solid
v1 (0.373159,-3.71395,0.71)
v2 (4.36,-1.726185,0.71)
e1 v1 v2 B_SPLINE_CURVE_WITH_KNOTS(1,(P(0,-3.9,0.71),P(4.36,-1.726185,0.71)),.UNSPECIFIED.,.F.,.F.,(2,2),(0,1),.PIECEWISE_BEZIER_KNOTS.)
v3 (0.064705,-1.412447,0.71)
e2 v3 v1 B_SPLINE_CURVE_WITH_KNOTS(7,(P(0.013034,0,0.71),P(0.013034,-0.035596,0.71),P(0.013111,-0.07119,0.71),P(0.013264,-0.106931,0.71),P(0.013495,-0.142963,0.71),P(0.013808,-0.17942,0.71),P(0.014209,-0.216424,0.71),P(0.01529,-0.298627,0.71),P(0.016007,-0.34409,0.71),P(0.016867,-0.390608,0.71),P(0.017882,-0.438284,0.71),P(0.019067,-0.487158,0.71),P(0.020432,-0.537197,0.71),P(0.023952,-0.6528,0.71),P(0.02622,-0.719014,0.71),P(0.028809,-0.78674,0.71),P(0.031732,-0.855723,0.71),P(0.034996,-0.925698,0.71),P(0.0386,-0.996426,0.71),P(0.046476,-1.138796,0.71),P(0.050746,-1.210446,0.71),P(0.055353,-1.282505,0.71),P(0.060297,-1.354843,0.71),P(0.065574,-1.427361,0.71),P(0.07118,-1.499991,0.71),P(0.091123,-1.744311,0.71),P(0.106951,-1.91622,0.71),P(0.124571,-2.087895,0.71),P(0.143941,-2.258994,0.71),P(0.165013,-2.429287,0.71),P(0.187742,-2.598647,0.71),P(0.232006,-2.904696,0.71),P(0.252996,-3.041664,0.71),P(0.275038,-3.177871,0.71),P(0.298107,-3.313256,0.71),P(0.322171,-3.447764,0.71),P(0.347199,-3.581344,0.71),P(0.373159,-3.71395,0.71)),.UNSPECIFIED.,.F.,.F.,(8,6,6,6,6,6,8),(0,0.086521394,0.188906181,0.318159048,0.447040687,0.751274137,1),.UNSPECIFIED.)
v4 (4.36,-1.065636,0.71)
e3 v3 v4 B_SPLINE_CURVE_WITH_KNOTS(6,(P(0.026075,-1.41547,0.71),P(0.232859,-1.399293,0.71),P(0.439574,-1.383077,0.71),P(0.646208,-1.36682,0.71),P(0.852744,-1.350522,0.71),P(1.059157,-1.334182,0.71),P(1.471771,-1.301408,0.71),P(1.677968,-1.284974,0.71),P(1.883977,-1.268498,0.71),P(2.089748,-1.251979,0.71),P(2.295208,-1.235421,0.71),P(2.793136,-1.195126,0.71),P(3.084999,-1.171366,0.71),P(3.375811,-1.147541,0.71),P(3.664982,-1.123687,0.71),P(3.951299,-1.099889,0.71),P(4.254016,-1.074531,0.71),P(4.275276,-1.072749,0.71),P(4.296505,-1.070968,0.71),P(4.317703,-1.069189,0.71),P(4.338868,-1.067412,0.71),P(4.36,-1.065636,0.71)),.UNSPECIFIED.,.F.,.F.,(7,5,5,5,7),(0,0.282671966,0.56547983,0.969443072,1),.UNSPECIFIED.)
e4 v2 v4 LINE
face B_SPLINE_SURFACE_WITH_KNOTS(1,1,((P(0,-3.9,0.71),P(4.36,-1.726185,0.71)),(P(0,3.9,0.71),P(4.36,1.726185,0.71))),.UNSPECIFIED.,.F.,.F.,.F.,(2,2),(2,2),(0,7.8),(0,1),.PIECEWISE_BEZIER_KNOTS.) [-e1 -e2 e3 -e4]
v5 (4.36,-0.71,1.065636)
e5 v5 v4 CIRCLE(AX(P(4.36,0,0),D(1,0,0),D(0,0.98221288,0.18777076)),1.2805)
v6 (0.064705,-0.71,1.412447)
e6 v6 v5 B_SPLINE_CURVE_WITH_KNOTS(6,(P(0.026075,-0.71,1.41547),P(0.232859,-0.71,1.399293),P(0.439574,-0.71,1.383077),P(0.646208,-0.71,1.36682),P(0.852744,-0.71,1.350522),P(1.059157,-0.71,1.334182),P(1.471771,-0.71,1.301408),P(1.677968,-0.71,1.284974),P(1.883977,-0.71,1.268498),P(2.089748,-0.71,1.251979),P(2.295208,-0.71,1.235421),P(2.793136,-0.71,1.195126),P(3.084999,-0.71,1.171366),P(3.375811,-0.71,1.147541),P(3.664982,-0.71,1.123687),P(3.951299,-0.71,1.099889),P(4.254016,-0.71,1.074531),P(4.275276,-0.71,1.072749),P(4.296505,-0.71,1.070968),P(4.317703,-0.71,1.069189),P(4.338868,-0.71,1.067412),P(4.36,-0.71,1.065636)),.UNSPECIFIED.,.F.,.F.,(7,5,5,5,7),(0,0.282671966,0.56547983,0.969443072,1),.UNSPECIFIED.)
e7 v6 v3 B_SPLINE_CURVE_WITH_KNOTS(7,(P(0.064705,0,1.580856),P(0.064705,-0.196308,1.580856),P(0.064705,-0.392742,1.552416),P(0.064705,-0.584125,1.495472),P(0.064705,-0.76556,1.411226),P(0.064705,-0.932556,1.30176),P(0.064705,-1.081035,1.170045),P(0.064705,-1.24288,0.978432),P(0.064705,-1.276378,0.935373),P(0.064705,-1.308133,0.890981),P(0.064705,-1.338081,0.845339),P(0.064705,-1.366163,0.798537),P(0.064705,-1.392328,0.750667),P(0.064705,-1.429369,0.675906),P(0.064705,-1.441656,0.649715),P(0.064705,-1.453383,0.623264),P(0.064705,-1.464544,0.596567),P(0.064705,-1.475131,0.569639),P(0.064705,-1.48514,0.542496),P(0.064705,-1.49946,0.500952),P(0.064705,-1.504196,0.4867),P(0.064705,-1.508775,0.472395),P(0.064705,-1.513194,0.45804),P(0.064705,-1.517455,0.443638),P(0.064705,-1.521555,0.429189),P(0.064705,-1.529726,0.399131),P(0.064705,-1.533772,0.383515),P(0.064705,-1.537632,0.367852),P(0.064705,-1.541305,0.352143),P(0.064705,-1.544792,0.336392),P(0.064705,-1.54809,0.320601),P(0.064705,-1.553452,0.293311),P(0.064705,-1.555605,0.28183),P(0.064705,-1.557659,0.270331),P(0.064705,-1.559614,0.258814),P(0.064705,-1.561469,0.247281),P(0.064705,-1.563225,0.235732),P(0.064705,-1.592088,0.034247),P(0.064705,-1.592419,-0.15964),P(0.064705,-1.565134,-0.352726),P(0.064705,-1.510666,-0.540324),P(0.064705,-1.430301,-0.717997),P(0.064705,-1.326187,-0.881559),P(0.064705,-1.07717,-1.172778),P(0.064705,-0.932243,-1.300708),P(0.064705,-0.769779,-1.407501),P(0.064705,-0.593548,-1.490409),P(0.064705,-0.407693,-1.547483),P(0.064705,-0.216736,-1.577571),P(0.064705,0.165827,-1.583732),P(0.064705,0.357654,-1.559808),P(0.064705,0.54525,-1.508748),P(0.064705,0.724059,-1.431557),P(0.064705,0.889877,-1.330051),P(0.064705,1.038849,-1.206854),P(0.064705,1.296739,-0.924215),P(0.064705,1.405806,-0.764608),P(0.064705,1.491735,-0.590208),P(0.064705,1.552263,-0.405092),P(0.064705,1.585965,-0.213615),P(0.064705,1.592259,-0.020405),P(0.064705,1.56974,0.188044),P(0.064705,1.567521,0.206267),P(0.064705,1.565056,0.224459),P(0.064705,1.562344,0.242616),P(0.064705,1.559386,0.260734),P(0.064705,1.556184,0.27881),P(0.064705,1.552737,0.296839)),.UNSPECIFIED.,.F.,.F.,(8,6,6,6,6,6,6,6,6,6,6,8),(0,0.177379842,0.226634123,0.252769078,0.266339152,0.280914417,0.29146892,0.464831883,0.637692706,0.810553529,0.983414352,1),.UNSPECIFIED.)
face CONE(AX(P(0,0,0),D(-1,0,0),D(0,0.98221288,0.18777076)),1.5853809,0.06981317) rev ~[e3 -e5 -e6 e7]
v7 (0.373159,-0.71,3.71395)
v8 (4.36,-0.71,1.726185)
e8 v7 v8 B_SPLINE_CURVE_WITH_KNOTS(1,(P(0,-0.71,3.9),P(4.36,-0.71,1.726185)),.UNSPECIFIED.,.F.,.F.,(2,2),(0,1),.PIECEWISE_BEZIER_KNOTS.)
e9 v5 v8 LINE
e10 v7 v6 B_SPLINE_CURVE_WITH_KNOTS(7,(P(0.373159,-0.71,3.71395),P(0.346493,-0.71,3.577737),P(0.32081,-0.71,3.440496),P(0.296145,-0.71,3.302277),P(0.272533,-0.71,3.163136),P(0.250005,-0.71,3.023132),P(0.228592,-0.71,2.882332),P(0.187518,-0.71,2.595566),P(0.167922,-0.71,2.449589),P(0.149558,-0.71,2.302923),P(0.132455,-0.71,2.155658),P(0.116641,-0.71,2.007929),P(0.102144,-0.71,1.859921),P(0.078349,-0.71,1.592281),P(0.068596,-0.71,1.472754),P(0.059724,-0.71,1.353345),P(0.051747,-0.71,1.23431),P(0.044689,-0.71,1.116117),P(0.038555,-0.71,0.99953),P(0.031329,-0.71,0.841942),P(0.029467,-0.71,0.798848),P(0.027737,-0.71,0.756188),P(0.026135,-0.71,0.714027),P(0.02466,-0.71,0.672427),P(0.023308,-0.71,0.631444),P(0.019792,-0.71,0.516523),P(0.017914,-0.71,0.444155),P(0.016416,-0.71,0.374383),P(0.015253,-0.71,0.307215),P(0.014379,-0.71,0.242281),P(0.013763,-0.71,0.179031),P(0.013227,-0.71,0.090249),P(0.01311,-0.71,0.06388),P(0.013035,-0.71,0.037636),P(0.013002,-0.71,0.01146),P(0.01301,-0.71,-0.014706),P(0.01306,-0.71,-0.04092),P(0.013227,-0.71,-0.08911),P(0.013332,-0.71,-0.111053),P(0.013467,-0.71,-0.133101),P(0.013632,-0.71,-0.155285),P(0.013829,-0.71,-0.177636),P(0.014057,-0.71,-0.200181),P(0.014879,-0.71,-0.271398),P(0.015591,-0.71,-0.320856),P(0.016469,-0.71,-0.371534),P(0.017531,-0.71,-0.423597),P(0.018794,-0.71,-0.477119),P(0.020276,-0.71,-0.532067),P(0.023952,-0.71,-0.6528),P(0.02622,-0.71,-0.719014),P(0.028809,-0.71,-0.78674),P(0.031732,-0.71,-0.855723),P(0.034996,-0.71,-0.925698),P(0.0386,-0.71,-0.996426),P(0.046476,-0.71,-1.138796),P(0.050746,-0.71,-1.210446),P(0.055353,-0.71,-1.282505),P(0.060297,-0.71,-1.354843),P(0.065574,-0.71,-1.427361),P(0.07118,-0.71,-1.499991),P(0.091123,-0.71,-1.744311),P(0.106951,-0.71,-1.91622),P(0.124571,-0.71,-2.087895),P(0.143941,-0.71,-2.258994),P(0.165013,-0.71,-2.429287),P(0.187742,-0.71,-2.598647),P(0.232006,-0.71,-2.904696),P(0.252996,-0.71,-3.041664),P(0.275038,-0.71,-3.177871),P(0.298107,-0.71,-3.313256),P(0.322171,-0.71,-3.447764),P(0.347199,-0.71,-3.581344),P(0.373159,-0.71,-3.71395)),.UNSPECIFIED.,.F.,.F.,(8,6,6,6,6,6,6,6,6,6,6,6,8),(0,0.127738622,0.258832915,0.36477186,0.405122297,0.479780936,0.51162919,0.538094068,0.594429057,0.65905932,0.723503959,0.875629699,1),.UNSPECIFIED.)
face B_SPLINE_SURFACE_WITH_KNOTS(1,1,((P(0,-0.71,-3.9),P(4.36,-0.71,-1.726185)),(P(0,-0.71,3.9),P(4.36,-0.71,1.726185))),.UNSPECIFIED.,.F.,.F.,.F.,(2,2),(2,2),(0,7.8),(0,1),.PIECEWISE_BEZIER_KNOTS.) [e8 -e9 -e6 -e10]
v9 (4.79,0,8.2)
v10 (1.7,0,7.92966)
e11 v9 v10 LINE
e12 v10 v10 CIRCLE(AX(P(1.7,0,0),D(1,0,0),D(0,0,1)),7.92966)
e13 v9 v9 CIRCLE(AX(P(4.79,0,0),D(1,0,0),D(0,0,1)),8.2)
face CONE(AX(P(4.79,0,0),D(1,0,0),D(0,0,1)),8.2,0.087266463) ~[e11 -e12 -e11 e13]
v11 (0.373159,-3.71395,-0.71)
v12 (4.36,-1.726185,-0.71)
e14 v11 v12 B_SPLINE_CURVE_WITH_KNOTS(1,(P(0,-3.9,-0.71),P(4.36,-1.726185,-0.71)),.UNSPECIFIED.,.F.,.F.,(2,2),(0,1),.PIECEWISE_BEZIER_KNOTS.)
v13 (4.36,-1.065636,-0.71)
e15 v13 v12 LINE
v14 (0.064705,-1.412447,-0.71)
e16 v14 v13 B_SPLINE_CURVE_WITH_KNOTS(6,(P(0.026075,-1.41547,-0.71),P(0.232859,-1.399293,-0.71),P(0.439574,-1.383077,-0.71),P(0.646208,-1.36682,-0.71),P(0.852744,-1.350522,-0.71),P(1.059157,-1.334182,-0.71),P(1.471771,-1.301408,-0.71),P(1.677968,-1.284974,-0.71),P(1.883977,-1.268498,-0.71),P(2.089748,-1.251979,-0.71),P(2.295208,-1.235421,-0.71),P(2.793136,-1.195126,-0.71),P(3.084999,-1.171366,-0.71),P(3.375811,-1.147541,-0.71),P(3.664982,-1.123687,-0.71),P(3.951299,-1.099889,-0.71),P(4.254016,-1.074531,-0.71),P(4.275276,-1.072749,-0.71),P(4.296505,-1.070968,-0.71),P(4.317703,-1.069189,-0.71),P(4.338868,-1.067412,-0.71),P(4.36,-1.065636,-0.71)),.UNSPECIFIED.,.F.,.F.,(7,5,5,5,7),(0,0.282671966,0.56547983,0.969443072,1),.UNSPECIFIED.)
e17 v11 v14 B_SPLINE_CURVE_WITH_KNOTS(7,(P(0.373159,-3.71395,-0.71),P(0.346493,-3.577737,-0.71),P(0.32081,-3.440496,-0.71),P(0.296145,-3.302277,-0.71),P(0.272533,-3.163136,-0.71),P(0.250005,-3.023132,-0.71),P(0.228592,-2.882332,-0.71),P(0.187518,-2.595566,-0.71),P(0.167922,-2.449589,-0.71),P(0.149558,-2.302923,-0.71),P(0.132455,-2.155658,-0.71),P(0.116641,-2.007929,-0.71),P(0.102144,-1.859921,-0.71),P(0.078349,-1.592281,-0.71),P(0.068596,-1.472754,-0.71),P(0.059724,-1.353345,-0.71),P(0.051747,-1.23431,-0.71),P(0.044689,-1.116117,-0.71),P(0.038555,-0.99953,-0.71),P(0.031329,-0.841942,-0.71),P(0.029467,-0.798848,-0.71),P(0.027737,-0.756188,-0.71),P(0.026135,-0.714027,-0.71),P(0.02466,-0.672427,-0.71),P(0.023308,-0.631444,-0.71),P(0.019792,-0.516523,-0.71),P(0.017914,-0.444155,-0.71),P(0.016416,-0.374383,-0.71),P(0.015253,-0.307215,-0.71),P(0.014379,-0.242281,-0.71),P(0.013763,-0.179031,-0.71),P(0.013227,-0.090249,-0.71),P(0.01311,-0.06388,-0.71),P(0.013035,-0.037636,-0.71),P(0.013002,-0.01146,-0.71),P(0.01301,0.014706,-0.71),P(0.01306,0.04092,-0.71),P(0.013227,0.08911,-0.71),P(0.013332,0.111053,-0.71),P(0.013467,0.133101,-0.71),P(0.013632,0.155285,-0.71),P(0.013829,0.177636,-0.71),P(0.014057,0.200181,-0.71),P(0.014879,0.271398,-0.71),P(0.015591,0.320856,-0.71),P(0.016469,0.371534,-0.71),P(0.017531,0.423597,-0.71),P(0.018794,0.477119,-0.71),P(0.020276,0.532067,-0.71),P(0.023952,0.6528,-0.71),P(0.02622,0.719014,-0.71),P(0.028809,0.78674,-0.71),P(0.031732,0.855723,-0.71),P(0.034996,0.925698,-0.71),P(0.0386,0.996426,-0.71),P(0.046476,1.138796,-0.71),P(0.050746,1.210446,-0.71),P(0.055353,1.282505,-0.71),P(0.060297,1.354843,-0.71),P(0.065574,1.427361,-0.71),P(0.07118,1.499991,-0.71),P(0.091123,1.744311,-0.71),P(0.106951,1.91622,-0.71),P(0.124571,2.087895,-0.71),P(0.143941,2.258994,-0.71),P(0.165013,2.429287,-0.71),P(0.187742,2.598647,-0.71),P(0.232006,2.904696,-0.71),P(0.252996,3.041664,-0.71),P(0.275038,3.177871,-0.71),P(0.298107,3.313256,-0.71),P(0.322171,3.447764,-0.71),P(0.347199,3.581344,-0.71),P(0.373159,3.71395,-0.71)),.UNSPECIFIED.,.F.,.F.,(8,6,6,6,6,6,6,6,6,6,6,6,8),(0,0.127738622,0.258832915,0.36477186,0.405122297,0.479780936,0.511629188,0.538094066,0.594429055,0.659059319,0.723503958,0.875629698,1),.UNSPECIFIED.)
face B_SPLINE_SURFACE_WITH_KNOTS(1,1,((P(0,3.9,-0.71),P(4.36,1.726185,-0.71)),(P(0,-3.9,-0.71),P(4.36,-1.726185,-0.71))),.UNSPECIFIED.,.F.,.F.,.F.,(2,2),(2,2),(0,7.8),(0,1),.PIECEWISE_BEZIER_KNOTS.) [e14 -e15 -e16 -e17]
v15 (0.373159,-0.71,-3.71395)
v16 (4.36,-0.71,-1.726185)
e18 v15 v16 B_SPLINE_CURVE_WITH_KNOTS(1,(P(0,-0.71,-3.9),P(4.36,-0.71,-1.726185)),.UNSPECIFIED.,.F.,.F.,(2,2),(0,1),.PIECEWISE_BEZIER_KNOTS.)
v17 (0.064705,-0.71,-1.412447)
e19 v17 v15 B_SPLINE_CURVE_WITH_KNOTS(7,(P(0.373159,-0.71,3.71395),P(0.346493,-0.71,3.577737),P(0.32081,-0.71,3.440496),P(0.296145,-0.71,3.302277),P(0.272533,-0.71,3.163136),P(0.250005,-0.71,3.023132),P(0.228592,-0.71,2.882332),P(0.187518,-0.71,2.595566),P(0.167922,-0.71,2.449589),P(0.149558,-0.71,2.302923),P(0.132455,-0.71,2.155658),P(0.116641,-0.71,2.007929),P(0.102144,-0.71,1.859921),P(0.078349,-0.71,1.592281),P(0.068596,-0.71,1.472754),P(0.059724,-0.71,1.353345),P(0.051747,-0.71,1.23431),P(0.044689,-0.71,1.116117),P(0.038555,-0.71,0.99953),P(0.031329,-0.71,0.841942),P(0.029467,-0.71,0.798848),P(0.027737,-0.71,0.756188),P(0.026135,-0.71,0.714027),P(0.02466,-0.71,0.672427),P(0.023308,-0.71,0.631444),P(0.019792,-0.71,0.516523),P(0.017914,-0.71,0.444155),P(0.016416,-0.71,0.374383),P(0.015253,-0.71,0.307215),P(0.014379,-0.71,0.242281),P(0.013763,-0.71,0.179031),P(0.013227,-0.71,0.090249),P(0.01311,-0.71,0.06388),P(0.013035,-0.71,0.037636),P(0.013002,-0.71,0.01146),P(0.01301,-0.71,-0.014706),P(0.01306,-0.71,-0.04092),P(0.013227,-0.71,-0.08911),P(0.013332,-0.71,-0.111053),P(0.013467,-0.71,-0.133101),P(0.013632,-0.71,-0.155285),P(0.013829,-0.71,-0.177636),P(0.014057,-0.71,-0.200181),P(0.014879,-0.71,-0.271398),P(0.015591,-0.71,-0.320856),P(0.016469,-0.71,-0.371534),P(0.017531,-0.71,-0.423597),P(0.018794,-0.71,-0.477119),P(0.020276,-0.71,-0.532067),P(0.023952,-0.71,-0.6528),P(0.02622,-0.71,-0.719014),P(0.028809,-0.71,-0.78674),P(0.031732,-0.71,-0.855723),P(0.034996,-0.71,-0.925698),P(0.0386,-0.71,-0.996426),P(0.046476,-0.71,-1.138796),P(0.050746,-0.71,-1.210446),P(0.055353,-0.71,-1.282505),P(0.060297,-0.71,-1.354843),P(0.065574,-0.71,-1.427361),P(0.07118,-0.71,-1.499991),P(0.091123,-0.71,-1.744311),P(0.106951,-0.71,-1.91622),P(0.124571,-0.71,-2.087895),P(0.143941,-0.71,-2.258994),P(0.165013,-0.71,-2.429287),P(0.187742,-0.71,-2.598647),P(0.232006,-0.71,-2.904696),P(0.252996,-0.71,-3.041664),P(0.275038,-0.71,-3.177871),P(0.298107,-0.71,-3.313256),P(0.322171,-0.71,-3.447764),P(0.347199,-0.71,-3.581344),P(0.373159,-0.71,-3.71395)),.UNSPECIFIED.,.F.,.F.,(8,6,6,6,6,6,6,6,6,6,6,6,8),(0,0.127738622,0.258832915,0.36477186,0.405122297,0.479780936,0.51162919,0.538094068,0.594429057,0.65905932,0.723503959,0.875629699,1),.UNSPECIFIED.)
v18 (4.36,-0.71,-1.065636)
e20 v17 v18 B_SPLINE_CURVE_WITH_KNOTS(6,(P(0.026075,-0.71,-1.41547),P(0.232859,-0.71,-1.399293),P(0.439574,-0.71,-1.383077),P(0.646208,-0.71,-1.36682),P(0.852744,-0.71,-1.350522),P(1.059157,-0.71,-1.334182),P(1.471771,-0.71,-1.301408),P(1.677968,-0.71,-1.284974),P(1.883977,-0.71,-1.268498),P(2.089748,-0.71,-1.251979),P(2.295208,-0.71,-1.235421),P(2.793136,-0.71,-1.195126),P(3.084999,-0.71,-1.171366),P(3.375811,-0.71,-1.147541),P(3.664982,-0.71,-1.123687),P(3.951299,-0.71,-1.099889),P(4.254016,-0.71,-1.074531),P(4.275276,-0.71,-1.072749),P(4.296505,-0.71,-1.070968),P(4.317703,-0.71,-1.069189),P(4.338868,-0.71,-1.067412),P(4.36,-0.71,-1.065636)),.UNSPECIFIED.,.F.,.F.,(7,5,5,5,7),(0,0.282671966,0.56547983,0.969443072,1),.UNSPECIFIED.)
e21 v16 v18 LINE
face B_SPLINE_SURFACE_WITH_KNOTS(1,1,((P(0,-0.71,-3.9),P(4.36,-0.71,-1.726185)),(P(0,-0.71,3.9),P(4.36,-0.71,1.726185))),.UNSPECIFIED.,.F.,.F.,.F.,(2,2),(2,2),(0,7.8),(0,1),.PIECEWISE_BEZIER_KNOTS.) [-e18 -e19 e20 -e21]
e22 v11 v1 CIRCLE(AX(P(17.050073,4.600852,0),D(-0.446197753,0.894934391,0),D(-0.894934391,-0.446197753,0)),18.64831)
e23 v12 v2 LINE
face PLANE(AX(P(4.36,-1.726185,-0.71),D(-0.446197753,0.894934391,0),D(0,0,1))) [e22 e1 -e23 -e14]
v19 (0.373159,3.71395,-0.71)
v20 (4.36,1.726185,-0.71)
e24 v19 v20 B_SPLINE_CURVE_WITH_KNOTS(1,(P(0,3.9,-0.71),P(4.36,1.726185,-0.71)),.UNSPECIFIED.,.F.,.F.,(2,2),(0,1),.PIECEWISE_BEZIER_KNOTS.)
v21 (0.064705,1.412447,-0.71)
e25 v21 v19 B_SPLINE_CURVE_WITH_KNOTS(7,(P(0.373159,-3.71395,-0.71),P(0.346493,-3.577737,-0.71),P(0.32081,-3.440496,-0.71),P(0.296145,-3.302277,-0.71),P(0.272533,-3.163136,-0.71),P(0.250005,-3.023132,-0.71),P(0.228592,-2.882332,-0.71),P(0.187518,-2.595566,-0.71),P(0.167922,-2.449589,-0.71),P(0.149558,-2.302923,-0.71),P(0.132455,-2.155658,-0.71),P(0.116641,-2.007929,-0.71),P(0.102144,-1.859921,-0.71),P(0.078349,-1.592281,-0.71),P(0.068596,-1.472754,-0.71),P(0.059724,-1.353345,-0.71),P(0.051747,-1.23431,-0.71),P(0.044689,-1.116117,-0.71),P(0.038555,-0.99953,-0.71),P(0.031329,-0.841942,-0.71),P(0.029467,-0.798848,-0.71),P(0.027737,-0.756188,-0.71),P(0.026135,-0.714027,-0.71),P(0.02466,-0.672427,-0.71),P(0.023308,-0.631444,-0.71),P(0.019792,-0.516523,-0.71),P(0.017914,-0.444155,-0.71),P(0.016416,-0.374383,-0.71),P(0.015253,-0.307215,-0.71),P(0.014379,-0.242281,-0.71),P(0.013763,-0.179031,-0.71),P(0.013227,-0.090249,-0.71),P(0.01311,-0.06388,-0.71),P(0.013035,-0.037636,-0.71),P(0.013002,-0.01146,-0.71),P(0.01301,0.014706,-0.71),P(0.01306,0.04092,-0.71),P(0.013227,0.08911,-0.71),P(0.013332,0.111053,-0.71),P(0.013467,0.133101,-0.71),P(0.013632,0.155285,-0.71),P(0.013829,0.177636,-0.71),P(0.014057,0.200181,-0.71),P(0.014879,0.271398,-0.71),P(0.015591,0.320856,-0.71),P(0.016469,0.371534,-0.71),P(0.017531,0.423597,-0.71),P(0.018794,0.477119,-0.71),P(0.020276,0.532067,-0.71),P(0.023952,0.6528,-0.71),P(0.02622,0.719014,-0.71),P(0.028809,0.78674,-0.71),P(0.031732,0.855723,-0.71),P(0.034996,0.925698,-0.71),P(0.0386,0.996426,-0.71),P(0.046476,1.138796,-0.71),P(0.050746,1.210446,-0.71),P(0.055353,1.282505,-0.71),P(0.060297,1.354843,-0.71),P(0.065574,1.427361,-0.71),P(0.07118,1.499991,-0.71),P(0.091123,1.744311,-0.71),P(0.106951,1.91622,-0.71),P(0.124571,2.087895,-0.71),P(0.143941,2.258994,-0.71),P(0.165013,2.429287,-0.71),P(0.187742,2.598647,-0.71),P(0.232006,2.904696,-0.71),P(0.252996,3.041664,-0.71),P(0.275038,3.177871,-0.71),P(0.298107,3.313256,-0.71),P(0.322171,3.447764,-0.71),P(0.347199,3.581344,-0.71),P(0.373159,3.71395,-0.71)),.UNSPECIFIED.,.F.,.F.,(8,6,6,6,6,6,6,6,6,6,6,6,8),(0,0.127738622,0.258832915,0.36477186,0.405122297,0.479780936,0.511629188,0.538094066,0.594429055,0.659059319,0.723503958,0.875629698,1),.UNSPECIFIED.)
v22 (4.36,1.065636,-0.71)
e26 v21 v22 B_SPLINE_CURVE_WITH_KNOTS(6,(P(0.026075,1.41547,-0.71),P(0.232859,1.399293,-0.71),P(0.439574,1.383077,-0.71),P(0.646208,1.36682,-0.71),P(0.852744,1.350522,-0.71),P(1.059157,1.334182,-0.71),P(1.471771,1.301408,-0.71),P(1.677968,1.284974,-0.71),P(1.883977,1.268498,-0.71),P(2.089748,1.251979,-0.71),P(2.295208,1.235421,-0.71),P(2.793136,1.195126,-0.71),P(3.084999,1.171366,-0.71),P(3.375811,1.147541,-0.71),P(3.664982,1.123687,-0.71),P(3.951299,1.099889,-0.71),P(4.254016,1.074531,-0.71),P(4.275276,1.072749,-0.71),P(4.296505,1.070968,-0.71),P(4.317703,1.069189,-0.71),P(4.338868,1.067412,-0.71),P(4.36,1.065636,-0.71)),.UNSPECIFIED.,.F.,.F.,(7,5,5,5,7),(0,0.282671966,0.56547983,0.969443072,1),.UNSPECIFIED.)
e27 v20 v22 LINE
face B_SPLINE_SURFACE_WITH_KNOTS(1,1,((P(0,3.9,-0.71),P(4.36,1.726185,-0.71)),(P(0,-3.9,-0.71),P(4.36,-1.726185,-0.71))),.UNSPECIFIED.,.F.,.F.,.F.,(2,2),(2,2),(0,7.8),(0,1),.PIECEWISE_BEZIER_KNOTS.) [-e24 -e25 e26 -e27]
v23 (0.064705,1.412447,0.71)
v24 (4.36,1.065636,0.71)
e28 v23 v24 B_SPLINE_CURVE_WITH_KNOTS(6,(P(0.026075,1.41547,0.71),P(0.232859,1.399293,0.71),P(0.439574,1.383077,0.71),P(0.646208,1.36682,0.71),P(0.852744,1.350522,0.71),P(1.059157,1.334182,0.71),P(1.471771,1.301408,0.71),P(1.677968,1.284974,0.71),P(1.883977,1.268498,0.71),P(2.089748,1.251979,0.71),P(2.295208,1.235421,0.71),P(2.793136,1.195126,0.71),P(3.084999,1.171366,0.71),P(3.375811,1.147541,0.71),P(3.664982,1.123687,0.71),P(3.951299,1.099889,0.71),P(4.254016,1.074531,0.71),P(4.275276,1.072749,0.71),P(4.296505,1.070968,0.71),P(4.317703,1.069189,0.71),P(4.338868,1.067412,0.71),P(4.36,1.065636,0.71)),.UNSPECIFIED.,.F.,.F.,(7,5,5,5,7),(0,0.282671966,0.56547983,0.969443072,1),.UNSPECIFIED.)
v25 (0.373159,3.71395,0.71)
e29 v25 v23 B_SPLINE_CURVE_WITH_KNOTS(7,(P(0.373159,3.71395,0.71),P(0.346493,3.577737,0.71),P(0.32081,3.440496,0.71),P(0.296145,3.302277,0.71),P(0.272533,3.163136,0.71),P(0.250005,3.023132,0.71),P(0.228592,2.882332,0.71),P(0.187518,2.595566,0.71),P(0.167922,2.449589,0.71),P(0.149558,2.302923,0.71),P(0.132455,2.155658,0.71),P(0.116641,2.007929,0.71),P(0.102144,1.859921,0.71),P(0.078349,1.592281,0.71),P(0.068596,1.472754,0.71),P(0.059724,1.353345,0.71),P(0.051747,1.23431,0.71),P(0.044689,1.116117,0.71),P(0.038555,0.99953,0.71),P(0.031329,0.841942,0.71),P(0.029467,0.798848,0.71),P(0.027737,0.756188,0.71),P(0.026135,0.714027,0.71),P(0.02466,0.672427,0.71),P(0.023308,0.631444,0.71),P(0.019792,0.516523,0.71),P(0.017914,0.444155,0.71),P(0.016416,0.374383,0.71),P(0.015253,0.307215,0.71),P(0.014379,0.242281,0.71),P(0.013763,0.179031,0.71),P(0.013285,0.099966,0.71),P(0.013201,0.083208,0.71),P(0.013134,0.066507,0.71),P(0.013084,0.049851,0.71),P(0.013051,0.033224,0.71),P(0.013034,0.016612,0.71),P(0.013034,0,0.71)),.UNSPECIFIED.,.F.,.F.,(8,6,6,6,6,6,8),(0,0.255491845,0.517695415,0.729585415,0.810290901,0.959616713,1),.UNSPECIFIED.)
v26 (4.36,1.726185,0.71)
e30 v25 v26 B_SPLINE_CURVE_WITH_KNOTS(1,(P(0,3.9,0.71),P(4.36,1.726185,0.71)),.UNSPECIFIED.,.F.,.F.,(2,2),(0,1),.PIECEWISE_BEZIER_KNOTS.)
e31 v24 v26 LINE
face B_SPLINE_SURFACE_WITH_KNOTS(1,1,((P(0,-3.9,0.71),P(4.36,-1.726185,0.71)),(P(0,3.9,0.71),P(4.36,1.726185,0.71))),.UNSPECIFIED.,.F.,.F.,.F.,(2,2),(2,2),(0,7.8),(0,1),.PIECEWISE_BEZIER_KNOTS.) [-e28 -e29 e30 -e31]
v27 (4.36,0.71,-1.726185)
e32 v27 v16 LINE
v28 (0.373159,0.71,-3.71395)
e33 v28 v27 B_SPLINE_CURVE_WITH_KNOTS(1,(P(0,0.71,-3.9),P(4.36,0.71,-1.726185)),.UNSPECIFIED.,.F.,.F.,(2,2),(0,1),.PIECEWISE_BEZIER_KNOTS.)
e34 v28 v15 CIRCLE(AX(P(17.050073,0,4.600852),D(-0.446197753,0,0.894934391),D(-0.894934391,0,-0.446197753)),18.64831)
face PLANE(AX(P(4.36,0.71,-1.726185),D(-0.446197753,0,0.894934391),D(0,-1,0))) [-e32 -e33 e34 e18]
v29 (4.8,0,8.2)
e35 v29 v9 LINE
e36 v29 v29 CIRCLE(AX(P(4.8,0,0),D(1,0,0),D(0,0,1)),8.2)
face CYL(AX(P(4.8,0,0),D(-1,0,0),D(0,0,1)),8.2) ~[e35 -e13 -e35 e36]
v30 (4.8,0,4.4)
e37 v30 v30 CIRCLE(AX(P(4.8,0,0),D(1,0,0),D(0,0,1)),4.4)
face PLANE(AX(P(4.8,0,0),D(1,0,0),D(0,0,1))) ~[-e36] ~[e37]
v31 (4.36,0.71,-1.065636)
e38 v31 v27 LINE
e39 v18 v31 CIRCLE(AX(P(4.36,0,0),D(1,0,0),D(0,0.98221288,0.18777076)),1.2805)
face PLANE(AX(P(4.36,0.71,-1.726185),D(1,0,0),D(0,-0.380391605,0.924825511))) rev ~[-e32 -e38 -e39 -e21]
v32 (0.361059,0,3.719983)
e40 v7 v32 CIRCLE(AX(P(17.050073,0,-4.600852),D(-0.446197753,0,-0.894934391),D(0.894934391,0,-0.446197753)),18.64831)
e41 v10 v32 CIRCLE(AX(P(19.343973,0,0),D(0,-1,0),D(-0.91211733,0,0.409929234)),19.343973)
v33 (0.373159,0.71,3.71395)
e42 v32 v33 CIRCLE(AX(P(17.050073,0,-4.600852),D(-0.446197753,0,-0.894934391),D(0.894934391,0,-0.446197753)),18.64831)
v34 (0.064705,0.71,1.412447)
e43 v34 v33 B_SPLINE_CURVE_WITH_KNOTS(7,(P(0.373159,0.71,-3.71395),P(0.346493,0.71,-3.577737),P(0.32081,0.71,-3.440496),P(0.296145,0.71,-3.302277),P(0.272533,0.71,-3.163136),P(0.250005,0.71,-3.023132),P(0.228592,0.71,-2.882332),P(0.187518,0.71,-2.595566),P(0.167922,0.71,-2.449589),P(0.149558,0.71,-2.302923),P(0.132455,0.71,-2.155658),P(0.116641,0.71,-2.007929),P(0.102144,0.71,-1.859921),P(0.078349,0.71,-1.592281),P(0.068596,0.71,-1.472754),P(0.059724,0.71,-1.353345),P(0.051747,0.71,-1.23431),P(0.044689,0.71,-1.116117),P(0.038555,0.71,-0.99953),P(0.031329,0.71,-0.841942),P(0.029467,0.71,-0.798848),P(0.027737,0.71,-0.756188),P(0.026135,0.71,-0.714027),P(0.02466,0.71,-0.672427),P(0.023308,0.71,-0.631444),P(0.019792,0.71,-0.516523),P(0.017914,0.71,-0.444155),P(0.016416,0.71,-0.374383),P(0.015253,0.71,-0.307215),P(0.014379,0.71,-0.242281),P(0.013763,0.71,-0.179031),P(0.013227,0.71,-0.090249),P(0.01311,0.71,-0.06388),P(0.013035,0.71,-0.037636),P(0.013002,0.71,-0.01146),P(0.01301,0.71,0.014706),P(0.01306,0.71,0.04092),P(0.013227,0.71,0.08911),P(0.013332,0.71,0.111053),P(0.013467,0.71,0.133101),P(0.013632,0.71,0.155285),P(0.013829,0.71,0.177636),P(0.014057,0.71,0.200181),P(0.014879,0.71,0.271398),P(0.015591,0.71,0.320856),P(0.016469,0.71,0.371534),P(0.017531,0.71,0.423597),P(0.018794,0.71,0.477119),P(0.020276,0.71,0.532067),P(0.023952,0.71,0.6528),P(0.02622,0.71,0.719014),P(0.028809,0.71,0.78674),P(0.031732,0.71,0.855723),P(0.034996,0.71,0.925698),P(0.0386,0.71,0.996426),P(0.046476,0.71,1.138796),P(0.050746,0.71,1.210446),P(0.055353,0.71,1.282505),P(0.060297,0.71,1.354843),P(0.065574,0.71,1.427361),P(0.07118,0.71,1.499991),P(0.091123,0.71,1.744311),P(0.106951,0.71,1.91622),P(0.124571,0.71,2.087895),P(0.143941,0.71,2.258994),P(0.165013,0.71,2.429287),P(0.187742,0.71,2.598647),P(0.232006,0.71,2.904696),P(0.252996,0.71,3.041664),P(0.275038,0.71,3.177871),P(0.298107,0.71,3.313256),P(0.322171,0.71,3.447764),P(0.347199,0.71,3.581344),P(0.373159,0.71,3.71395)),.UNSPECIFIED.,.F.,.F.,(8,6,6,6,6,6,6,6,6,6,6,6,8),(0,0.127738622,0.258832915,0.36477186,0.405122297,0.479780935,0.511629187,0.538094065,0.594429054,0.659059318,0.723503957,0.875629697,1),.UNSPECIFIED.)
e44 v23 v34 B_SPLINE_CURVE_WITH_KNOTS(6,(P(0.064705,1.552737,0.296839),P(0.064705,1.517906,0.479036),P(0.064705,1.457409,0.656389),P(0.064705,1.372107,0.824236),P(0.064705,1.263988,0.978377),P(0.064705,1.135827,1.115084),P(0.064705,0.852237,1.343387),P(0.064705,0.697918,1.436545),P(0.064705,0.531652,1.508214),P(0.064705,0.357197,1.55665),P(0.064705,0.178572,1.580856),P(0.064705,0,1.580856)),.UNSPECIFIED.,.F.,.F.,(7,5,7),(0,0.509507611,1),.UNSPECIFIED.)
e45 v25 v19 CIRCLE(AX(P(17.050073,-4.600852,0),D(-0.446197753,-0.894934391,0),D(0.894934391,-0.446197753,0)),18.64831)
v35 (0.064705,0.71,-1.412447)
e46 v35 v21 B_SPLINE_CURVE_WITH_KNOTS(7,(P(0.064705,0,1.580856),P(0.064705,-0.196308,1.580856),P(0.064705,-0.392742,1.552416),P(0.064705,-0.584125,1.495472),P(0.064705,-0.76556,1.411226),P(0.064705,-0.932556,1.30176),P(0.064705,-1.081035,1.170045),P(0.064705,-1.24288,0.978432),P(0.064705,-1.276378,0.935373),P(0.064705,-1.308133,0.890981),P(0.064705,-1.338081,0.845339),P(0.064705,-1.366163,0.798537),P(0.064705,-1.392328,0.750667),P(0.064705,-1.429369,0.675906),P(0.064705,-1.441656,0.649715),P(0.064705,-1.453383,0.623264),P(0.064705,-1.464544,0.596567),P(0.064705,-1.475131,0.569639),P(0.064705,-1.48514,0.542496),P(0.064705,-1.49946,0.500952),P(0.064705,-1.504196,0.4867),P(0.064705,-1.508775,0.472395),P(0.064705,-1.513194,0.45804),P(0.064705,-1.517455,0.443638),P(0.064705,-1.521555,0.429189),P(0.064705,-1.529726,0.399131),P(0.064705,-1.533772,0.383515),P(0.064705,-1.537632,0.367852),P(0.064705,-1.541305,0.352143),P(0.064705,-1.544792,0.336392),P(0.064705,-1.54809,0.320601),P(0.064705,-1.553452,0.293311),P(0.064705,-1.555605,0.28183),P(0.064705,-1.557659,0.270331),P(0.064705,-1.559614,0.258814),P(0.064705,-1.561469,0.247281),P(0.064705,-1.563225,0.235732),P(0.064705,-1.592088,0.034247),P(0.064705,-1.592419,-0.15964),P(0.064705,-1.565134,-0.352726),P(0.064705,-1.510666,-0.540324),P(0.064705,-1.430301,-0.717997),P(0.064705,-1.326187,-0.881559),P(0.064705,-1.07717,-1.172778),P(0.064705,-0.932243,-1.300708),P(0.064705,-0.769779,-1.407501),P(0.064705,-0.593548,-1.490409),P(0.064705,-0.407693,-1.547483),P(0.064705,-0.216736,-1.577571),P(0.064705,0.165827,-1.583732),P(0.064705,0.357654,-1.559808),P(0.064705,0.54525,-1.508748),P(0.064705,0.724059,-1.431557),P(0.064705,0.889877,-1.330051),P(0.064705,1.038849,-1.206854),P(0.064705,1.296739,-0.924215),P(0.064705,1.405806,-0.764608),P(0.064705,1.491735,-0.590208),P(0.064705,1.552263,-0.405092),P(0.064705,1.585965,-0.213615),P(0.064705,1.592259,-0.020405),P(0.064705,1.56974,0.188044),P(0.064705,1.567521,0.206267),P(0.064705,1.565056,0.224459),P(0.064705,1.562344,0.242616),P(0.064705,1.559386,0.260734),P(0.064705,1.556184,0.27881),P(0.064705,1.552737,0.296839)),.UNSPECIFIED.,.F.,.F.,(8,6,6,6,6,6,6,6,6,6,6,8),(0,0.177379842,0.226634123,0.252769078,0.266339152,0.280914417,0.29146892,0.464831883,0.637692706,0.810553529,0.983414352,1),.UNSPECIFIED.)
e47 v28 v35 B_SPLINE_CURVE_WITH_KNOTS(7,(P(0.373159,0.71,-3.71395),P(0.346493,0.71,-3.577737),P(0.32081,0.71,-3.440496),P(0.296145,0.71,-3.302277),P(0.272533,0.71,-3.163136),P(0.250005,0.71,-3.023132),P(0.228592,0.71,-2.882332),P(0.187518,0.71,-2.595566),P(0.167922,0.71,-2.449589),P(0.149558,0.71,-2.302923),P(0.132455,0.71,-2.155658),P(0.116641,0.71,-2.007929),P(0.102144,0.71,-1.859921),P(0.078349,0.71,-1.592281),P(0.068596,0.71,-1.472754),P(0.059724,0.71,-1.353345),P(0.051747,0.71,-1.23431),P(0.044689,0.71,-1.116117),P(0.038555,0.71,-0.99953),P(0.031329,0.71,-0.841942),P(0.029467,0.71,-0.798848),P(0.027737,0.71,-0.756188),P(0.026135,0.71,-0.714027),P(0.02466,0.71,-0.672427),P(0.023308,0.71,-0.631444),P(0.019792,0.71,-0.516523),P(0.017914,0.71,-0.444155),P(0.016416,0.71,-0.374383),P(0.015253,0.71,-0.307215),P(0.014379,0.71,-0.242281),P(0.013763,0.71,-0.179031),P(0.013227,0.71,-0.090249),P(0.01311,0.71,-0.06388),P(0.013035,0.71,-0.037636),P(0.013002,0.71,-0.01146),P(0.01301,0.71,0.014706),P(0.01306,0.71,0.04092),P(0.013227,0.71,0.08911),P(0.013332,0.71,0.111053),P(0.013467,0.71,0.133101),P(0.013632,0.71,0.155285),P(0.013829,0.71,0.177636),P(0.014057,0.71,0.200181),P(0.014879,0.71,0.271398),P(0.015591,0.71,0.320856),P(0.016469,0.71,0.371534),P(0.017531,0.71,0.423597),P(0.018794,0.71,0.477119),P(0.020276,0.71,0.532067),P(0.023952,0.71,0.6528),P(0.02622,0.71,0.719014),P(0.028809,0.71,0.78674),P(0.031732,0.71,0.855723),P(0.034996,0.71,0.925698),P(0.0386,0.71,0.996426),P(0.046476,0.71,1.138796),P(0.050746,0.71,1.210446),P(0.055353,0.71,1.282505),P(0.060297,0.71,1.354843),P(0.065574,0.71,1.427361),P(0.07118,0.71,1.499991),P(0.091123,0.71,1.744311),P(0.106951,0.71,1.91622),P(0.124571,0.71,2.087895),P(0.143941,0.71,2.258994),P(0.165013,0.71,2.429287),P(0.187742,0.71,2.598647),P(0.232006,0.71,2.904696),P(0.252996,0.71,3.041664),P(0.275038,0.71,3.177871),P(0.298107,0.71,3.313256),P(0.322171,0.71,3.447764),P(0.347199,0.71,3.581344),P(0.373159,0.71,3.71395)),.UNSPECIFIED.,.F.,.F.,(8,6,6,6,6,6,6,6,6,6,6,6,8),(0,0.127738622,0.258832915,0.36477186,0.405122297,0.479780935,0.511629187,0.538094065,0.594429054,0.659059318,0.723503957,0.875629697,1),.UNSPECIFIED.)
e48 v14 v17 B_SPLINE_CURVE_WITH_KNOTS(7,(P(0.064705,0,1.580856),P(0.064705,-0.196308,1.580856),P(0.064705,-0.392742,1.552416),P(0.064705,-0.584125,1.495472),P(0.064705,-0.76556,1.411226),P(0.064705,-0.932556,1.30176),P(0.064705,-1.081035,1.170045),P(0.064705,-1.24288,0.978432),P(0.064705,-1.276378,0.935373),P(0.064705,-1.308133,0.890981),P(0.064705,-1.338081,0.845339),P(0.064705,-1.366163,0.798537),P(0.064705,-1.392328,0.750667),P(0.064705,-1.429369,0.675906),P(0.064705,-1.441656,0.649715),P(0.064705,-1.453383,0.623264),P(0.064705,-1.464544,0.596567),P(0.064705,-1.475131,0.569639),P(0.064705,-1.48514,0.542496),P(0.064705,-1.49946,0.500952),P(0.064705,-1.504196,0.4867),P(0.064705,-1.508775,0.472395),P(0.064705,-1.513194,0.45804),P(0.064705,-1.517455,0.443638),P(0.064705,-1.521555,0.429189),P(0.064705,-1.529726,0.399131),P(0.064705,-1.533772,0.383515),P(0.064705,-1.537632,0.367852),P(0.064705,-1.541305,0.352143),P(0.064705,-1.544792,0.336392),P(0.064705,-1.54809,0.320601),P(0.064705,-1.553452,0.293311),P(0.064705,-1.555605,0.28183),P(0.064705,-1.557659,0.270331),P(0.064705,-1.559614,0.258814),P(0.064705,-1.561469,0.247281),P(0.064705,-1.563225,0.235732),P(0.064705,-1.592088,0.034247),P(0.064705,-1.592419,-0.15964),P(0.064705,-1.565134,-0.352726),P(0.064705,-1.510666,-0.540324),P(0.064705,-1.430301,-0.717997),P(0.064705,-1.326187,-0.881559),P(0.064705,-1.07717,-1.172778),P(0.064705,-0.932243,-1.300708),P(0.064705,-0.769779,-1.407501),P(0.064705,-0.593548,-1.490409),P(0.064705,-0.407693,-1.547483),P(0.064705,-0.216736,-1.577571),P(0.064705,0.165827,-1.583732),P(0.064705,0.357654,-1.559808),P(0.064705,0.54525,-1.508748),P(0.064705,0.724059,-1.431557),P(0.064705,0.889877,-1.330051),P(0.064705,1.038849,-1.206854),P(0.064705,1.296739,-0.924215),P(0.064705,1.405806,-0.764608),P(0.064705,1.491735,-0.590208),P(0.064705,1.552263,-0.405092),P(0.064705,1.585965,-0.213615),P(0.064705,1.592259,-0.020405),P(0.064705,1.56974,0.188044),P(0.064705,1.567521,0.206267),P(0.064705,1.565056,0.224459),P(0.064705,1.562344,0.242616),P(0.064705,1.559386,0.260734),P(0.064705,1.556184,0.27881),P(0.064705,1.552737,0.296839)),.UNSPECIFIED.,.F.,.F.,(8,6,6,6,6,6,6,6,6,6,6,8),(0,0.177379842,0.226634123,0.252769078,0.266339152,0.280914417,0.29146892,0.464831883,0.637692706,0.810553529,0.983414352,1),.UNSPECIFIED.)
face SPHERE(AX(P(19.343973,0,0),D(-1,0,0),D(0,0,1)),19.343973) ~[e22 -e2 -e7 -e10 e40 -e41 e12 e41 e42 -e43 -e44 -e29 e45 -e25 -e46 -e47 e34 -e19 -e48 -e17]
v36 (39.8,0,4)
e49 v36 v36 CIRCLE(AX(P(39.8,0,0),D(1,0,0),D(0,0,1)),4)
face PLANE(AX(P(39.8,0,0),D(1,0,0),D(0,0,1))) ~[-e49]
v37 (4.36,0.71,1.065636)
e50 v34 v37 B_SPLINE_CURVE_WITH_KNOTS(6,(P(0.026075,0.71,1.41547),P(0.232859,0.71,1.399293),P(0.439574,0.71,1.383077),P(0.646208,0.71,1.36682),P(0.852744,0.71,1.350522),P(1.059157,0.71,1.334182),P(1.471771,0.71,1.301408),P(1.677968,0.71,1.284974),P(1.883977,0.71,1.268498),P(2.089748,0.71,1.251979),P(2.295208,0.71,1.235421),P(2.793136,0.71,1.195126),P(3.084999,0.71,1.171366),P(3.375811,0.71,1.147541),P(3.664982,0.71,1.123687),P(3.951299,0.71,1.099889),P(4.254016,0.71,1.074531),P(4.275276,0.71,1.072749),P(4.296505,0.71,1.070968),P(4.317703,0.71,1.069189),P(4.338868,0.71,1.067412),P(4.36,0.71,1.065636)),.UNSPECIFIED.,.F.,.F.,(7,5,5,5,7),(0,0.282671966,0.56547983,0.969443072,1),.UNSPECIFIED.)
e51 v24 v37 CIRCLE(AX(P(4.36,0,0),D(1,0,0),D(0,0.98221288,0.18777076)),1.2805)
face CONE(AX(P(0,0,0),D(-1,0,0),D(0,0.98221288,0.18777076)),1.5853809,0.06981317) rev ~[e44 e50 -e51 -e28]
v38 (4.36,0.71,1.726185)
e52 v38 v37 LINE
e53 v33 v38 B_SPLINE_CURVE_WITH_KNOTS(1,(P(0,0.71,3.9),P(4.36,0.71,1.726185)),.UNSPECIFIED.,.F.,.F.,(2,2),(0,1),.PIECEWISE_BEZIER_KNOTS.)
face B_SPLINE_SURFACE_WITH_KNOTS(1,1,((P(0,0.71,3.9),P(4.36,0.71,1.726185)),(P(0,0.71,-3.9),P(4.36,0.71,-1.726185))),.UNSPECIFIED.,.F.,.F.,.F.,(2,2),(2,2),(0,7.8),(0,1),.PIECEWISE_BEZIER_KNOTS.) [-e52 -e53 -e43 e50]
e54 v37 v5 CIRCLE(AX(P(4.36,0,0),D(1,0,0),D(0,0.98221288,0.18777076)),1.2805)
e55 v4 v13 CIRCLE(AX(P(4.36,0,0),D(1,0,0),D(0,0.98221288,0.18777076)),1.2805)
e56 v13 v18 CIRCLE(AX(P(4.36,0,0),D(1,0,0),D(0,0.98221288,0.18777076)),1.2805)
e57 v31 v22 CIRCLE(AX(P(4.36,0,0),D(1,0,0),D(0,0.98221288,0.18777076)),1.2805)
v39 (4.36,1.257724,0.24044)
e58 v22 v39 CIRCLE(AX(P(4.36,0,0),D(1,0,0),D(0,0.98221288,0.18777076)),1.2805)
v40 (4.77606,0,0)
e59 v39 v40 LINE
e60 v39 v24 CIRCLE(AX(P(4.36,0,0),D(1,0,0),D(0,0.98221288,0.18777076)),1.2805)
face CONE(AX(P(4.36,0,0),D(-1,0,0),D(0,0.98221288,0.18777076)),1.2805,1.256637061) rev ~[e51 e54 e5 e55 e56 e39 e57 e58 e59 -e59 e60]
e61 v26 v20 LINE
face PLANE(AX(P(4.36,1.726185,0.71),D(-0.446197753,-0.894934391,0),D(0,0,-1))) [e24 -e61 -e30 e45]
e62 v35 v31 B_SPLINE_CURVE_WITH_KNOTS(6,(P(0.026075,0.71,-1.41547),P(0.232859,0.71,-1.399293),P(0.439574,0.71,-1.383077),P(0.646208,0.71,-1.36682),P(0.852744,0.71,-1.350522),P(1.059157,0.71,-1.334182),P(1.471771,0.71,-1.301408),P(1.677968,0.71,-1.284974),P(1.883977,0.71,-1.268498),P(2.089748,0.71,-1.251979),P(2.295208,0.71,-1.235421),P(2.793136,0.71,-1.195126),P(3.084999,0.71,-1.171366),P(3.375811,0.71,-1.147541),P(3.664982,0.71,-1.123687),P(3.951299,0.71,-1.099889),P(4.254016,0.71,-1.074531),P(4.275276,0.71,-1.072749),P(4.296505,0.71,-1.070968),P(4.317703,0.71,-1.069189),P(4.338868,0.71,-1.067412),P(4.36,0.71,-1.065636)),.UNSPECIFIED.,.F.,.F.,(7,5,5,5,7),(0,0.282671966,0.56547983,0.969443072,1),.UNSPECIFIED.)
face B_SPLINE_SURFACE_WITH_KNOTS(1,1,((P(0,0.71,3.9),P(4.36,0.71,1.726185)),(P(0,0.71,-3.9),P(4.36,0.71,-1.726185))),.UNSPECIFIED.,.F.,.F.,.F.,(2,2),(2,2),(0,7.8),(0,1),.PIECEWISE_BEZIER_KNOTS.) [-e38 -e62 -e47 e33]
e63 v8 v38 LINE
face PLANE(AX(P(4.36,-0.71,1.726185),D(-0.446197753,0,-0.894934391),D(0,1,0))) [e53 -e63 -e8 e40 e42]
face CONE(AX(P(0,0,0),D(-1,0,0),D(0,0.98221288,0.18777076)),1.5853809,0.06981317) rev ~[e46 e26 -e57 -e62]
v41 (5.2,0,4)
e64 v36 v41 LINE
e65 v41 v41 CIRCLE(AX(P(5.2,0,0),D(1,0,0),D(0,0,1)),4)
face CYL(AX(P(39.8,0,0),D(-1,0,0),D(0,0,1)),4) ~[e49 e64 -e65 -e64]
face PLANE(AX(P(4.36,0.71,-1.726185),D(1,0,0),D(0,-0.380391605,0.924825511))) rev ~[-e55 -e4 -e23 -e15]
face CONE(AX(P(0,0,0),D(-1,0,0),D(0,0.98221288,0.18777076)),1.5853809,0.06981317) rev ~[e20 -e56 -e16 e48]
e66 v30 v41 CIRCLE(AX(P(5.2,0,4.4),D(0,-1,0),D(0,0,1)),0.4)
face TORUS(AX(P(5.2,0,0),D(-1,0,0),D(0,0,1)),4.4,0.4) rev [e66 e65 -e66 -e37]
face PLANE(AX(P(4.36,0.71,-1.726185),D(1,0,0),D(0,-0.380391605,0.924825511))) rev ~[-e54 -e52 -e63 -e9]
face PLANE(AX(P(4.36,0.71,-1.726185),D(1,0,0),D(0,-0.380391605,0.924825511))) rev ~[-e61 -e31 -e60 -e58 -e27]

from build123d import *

# Parameters (mm, degrees)
FILLET1_R    = 0.4
RECPAT_COUNT = 2
RECPAT_ANGLE = 90


with BuildPart() as part:
    # BodySke → Base-Revolve (revolve)
    with BuildSketch(Plane.XY, mode=Mode.PRIVATE) as base_revolve_sk:
        with BuildLine():
            Line((4.8, 4), (4.8, 8.2))
            Line((4.8, 8.2), (4.79, 8.2))
            Line((4.79, 8.2), (1.7, 7.92966003))
            ThreePointArc((1.7, 7.92966003), (0.429774249, 4.054920104), (0, 0))
            Line((0, 0), (39.8, 0))
            Line((39.8, 0), (39.8, 4))
            Line((39.8, 4), (4.8, 4))
        make_face()
    revolve(base_revolve_sk.sketch.rotate(Axis((1.7, 0, 0), (1, 0, 0)), 90), axis=Axis((1.7, 0, 0), (1, 0, 0)))

    # Fillet1
    fillet1_edges = [part.edges().sort_by_distance(p)[0] for p in [
        (4.8, 0, -4),
    ]]
    fillet(fillet1_edges, radius=FILLET1_R)

    # Sketch3 → Recess section 0
    with BuildSketch(Plane(origin=(0, 0, 0), x_dir=(0, 0, -1), z_dir=(1, 0, 0))):
        with BuildLine():
            Line((0.71, -3.9), (-0.71, -3.9))
            Line((-0.71, -3.9), (-0.71, 3.9))
            Line((-0.71, 3.9), (0.71, 3.9))
            Line((0.71, 3.9), (0.71, -3.9))
        make_face()
    # Sketch4 → Recess section 1
    with BuildSketch(Plane(origin=(4.36, 0, 0), x_dir=(0, 0, -1), z_dir=(1, 0, 0))):
        with BuildLine():
            Line((0.71, -1.726184552), (-0.71, -1.726184552))
            Line((-0.71, -1.726184552), (-0.71, 1.726184552))
            Line((-0.71, 1.726184552), (0.71, 1.726184552))
            Line((0.71, 1.726184552), (0.71, -1.726184552))
        make_face()
    recess = loft(mode=Mode.SUBTRACT)

    # RecPat: Recess ×2 about axis
    recpat_axis = Axis((0, 0, 0), (1, 0, 0))
    for i in range(1, RECPAT_COUNT):
        add(recess.rotate(recpat_axis, i * RECPAT_ANGLE / (RECPAT_COUNT - 1)), mode=Mode.SUBTRACT)

    # RecCorSke → RecessCore (revolve, cut)
    with BuildSketch(Plane.XY, mode=Mode.PRIVATE) as recesscore_sk:
        Polygon((0, 0), (0, 1.5853809), (4.36, 1.2805), (4.776059671, 0), align=None)
    revolve(recesscore_sk.sketch.rotate(Axis((-3.175, 0, 0), (1, 0, 0)), 10.822716804), axis=Axis((-3.175, 0, 0), (1, 0, 0)), mode=Mode.SUBTRACT)


solid = part.part
